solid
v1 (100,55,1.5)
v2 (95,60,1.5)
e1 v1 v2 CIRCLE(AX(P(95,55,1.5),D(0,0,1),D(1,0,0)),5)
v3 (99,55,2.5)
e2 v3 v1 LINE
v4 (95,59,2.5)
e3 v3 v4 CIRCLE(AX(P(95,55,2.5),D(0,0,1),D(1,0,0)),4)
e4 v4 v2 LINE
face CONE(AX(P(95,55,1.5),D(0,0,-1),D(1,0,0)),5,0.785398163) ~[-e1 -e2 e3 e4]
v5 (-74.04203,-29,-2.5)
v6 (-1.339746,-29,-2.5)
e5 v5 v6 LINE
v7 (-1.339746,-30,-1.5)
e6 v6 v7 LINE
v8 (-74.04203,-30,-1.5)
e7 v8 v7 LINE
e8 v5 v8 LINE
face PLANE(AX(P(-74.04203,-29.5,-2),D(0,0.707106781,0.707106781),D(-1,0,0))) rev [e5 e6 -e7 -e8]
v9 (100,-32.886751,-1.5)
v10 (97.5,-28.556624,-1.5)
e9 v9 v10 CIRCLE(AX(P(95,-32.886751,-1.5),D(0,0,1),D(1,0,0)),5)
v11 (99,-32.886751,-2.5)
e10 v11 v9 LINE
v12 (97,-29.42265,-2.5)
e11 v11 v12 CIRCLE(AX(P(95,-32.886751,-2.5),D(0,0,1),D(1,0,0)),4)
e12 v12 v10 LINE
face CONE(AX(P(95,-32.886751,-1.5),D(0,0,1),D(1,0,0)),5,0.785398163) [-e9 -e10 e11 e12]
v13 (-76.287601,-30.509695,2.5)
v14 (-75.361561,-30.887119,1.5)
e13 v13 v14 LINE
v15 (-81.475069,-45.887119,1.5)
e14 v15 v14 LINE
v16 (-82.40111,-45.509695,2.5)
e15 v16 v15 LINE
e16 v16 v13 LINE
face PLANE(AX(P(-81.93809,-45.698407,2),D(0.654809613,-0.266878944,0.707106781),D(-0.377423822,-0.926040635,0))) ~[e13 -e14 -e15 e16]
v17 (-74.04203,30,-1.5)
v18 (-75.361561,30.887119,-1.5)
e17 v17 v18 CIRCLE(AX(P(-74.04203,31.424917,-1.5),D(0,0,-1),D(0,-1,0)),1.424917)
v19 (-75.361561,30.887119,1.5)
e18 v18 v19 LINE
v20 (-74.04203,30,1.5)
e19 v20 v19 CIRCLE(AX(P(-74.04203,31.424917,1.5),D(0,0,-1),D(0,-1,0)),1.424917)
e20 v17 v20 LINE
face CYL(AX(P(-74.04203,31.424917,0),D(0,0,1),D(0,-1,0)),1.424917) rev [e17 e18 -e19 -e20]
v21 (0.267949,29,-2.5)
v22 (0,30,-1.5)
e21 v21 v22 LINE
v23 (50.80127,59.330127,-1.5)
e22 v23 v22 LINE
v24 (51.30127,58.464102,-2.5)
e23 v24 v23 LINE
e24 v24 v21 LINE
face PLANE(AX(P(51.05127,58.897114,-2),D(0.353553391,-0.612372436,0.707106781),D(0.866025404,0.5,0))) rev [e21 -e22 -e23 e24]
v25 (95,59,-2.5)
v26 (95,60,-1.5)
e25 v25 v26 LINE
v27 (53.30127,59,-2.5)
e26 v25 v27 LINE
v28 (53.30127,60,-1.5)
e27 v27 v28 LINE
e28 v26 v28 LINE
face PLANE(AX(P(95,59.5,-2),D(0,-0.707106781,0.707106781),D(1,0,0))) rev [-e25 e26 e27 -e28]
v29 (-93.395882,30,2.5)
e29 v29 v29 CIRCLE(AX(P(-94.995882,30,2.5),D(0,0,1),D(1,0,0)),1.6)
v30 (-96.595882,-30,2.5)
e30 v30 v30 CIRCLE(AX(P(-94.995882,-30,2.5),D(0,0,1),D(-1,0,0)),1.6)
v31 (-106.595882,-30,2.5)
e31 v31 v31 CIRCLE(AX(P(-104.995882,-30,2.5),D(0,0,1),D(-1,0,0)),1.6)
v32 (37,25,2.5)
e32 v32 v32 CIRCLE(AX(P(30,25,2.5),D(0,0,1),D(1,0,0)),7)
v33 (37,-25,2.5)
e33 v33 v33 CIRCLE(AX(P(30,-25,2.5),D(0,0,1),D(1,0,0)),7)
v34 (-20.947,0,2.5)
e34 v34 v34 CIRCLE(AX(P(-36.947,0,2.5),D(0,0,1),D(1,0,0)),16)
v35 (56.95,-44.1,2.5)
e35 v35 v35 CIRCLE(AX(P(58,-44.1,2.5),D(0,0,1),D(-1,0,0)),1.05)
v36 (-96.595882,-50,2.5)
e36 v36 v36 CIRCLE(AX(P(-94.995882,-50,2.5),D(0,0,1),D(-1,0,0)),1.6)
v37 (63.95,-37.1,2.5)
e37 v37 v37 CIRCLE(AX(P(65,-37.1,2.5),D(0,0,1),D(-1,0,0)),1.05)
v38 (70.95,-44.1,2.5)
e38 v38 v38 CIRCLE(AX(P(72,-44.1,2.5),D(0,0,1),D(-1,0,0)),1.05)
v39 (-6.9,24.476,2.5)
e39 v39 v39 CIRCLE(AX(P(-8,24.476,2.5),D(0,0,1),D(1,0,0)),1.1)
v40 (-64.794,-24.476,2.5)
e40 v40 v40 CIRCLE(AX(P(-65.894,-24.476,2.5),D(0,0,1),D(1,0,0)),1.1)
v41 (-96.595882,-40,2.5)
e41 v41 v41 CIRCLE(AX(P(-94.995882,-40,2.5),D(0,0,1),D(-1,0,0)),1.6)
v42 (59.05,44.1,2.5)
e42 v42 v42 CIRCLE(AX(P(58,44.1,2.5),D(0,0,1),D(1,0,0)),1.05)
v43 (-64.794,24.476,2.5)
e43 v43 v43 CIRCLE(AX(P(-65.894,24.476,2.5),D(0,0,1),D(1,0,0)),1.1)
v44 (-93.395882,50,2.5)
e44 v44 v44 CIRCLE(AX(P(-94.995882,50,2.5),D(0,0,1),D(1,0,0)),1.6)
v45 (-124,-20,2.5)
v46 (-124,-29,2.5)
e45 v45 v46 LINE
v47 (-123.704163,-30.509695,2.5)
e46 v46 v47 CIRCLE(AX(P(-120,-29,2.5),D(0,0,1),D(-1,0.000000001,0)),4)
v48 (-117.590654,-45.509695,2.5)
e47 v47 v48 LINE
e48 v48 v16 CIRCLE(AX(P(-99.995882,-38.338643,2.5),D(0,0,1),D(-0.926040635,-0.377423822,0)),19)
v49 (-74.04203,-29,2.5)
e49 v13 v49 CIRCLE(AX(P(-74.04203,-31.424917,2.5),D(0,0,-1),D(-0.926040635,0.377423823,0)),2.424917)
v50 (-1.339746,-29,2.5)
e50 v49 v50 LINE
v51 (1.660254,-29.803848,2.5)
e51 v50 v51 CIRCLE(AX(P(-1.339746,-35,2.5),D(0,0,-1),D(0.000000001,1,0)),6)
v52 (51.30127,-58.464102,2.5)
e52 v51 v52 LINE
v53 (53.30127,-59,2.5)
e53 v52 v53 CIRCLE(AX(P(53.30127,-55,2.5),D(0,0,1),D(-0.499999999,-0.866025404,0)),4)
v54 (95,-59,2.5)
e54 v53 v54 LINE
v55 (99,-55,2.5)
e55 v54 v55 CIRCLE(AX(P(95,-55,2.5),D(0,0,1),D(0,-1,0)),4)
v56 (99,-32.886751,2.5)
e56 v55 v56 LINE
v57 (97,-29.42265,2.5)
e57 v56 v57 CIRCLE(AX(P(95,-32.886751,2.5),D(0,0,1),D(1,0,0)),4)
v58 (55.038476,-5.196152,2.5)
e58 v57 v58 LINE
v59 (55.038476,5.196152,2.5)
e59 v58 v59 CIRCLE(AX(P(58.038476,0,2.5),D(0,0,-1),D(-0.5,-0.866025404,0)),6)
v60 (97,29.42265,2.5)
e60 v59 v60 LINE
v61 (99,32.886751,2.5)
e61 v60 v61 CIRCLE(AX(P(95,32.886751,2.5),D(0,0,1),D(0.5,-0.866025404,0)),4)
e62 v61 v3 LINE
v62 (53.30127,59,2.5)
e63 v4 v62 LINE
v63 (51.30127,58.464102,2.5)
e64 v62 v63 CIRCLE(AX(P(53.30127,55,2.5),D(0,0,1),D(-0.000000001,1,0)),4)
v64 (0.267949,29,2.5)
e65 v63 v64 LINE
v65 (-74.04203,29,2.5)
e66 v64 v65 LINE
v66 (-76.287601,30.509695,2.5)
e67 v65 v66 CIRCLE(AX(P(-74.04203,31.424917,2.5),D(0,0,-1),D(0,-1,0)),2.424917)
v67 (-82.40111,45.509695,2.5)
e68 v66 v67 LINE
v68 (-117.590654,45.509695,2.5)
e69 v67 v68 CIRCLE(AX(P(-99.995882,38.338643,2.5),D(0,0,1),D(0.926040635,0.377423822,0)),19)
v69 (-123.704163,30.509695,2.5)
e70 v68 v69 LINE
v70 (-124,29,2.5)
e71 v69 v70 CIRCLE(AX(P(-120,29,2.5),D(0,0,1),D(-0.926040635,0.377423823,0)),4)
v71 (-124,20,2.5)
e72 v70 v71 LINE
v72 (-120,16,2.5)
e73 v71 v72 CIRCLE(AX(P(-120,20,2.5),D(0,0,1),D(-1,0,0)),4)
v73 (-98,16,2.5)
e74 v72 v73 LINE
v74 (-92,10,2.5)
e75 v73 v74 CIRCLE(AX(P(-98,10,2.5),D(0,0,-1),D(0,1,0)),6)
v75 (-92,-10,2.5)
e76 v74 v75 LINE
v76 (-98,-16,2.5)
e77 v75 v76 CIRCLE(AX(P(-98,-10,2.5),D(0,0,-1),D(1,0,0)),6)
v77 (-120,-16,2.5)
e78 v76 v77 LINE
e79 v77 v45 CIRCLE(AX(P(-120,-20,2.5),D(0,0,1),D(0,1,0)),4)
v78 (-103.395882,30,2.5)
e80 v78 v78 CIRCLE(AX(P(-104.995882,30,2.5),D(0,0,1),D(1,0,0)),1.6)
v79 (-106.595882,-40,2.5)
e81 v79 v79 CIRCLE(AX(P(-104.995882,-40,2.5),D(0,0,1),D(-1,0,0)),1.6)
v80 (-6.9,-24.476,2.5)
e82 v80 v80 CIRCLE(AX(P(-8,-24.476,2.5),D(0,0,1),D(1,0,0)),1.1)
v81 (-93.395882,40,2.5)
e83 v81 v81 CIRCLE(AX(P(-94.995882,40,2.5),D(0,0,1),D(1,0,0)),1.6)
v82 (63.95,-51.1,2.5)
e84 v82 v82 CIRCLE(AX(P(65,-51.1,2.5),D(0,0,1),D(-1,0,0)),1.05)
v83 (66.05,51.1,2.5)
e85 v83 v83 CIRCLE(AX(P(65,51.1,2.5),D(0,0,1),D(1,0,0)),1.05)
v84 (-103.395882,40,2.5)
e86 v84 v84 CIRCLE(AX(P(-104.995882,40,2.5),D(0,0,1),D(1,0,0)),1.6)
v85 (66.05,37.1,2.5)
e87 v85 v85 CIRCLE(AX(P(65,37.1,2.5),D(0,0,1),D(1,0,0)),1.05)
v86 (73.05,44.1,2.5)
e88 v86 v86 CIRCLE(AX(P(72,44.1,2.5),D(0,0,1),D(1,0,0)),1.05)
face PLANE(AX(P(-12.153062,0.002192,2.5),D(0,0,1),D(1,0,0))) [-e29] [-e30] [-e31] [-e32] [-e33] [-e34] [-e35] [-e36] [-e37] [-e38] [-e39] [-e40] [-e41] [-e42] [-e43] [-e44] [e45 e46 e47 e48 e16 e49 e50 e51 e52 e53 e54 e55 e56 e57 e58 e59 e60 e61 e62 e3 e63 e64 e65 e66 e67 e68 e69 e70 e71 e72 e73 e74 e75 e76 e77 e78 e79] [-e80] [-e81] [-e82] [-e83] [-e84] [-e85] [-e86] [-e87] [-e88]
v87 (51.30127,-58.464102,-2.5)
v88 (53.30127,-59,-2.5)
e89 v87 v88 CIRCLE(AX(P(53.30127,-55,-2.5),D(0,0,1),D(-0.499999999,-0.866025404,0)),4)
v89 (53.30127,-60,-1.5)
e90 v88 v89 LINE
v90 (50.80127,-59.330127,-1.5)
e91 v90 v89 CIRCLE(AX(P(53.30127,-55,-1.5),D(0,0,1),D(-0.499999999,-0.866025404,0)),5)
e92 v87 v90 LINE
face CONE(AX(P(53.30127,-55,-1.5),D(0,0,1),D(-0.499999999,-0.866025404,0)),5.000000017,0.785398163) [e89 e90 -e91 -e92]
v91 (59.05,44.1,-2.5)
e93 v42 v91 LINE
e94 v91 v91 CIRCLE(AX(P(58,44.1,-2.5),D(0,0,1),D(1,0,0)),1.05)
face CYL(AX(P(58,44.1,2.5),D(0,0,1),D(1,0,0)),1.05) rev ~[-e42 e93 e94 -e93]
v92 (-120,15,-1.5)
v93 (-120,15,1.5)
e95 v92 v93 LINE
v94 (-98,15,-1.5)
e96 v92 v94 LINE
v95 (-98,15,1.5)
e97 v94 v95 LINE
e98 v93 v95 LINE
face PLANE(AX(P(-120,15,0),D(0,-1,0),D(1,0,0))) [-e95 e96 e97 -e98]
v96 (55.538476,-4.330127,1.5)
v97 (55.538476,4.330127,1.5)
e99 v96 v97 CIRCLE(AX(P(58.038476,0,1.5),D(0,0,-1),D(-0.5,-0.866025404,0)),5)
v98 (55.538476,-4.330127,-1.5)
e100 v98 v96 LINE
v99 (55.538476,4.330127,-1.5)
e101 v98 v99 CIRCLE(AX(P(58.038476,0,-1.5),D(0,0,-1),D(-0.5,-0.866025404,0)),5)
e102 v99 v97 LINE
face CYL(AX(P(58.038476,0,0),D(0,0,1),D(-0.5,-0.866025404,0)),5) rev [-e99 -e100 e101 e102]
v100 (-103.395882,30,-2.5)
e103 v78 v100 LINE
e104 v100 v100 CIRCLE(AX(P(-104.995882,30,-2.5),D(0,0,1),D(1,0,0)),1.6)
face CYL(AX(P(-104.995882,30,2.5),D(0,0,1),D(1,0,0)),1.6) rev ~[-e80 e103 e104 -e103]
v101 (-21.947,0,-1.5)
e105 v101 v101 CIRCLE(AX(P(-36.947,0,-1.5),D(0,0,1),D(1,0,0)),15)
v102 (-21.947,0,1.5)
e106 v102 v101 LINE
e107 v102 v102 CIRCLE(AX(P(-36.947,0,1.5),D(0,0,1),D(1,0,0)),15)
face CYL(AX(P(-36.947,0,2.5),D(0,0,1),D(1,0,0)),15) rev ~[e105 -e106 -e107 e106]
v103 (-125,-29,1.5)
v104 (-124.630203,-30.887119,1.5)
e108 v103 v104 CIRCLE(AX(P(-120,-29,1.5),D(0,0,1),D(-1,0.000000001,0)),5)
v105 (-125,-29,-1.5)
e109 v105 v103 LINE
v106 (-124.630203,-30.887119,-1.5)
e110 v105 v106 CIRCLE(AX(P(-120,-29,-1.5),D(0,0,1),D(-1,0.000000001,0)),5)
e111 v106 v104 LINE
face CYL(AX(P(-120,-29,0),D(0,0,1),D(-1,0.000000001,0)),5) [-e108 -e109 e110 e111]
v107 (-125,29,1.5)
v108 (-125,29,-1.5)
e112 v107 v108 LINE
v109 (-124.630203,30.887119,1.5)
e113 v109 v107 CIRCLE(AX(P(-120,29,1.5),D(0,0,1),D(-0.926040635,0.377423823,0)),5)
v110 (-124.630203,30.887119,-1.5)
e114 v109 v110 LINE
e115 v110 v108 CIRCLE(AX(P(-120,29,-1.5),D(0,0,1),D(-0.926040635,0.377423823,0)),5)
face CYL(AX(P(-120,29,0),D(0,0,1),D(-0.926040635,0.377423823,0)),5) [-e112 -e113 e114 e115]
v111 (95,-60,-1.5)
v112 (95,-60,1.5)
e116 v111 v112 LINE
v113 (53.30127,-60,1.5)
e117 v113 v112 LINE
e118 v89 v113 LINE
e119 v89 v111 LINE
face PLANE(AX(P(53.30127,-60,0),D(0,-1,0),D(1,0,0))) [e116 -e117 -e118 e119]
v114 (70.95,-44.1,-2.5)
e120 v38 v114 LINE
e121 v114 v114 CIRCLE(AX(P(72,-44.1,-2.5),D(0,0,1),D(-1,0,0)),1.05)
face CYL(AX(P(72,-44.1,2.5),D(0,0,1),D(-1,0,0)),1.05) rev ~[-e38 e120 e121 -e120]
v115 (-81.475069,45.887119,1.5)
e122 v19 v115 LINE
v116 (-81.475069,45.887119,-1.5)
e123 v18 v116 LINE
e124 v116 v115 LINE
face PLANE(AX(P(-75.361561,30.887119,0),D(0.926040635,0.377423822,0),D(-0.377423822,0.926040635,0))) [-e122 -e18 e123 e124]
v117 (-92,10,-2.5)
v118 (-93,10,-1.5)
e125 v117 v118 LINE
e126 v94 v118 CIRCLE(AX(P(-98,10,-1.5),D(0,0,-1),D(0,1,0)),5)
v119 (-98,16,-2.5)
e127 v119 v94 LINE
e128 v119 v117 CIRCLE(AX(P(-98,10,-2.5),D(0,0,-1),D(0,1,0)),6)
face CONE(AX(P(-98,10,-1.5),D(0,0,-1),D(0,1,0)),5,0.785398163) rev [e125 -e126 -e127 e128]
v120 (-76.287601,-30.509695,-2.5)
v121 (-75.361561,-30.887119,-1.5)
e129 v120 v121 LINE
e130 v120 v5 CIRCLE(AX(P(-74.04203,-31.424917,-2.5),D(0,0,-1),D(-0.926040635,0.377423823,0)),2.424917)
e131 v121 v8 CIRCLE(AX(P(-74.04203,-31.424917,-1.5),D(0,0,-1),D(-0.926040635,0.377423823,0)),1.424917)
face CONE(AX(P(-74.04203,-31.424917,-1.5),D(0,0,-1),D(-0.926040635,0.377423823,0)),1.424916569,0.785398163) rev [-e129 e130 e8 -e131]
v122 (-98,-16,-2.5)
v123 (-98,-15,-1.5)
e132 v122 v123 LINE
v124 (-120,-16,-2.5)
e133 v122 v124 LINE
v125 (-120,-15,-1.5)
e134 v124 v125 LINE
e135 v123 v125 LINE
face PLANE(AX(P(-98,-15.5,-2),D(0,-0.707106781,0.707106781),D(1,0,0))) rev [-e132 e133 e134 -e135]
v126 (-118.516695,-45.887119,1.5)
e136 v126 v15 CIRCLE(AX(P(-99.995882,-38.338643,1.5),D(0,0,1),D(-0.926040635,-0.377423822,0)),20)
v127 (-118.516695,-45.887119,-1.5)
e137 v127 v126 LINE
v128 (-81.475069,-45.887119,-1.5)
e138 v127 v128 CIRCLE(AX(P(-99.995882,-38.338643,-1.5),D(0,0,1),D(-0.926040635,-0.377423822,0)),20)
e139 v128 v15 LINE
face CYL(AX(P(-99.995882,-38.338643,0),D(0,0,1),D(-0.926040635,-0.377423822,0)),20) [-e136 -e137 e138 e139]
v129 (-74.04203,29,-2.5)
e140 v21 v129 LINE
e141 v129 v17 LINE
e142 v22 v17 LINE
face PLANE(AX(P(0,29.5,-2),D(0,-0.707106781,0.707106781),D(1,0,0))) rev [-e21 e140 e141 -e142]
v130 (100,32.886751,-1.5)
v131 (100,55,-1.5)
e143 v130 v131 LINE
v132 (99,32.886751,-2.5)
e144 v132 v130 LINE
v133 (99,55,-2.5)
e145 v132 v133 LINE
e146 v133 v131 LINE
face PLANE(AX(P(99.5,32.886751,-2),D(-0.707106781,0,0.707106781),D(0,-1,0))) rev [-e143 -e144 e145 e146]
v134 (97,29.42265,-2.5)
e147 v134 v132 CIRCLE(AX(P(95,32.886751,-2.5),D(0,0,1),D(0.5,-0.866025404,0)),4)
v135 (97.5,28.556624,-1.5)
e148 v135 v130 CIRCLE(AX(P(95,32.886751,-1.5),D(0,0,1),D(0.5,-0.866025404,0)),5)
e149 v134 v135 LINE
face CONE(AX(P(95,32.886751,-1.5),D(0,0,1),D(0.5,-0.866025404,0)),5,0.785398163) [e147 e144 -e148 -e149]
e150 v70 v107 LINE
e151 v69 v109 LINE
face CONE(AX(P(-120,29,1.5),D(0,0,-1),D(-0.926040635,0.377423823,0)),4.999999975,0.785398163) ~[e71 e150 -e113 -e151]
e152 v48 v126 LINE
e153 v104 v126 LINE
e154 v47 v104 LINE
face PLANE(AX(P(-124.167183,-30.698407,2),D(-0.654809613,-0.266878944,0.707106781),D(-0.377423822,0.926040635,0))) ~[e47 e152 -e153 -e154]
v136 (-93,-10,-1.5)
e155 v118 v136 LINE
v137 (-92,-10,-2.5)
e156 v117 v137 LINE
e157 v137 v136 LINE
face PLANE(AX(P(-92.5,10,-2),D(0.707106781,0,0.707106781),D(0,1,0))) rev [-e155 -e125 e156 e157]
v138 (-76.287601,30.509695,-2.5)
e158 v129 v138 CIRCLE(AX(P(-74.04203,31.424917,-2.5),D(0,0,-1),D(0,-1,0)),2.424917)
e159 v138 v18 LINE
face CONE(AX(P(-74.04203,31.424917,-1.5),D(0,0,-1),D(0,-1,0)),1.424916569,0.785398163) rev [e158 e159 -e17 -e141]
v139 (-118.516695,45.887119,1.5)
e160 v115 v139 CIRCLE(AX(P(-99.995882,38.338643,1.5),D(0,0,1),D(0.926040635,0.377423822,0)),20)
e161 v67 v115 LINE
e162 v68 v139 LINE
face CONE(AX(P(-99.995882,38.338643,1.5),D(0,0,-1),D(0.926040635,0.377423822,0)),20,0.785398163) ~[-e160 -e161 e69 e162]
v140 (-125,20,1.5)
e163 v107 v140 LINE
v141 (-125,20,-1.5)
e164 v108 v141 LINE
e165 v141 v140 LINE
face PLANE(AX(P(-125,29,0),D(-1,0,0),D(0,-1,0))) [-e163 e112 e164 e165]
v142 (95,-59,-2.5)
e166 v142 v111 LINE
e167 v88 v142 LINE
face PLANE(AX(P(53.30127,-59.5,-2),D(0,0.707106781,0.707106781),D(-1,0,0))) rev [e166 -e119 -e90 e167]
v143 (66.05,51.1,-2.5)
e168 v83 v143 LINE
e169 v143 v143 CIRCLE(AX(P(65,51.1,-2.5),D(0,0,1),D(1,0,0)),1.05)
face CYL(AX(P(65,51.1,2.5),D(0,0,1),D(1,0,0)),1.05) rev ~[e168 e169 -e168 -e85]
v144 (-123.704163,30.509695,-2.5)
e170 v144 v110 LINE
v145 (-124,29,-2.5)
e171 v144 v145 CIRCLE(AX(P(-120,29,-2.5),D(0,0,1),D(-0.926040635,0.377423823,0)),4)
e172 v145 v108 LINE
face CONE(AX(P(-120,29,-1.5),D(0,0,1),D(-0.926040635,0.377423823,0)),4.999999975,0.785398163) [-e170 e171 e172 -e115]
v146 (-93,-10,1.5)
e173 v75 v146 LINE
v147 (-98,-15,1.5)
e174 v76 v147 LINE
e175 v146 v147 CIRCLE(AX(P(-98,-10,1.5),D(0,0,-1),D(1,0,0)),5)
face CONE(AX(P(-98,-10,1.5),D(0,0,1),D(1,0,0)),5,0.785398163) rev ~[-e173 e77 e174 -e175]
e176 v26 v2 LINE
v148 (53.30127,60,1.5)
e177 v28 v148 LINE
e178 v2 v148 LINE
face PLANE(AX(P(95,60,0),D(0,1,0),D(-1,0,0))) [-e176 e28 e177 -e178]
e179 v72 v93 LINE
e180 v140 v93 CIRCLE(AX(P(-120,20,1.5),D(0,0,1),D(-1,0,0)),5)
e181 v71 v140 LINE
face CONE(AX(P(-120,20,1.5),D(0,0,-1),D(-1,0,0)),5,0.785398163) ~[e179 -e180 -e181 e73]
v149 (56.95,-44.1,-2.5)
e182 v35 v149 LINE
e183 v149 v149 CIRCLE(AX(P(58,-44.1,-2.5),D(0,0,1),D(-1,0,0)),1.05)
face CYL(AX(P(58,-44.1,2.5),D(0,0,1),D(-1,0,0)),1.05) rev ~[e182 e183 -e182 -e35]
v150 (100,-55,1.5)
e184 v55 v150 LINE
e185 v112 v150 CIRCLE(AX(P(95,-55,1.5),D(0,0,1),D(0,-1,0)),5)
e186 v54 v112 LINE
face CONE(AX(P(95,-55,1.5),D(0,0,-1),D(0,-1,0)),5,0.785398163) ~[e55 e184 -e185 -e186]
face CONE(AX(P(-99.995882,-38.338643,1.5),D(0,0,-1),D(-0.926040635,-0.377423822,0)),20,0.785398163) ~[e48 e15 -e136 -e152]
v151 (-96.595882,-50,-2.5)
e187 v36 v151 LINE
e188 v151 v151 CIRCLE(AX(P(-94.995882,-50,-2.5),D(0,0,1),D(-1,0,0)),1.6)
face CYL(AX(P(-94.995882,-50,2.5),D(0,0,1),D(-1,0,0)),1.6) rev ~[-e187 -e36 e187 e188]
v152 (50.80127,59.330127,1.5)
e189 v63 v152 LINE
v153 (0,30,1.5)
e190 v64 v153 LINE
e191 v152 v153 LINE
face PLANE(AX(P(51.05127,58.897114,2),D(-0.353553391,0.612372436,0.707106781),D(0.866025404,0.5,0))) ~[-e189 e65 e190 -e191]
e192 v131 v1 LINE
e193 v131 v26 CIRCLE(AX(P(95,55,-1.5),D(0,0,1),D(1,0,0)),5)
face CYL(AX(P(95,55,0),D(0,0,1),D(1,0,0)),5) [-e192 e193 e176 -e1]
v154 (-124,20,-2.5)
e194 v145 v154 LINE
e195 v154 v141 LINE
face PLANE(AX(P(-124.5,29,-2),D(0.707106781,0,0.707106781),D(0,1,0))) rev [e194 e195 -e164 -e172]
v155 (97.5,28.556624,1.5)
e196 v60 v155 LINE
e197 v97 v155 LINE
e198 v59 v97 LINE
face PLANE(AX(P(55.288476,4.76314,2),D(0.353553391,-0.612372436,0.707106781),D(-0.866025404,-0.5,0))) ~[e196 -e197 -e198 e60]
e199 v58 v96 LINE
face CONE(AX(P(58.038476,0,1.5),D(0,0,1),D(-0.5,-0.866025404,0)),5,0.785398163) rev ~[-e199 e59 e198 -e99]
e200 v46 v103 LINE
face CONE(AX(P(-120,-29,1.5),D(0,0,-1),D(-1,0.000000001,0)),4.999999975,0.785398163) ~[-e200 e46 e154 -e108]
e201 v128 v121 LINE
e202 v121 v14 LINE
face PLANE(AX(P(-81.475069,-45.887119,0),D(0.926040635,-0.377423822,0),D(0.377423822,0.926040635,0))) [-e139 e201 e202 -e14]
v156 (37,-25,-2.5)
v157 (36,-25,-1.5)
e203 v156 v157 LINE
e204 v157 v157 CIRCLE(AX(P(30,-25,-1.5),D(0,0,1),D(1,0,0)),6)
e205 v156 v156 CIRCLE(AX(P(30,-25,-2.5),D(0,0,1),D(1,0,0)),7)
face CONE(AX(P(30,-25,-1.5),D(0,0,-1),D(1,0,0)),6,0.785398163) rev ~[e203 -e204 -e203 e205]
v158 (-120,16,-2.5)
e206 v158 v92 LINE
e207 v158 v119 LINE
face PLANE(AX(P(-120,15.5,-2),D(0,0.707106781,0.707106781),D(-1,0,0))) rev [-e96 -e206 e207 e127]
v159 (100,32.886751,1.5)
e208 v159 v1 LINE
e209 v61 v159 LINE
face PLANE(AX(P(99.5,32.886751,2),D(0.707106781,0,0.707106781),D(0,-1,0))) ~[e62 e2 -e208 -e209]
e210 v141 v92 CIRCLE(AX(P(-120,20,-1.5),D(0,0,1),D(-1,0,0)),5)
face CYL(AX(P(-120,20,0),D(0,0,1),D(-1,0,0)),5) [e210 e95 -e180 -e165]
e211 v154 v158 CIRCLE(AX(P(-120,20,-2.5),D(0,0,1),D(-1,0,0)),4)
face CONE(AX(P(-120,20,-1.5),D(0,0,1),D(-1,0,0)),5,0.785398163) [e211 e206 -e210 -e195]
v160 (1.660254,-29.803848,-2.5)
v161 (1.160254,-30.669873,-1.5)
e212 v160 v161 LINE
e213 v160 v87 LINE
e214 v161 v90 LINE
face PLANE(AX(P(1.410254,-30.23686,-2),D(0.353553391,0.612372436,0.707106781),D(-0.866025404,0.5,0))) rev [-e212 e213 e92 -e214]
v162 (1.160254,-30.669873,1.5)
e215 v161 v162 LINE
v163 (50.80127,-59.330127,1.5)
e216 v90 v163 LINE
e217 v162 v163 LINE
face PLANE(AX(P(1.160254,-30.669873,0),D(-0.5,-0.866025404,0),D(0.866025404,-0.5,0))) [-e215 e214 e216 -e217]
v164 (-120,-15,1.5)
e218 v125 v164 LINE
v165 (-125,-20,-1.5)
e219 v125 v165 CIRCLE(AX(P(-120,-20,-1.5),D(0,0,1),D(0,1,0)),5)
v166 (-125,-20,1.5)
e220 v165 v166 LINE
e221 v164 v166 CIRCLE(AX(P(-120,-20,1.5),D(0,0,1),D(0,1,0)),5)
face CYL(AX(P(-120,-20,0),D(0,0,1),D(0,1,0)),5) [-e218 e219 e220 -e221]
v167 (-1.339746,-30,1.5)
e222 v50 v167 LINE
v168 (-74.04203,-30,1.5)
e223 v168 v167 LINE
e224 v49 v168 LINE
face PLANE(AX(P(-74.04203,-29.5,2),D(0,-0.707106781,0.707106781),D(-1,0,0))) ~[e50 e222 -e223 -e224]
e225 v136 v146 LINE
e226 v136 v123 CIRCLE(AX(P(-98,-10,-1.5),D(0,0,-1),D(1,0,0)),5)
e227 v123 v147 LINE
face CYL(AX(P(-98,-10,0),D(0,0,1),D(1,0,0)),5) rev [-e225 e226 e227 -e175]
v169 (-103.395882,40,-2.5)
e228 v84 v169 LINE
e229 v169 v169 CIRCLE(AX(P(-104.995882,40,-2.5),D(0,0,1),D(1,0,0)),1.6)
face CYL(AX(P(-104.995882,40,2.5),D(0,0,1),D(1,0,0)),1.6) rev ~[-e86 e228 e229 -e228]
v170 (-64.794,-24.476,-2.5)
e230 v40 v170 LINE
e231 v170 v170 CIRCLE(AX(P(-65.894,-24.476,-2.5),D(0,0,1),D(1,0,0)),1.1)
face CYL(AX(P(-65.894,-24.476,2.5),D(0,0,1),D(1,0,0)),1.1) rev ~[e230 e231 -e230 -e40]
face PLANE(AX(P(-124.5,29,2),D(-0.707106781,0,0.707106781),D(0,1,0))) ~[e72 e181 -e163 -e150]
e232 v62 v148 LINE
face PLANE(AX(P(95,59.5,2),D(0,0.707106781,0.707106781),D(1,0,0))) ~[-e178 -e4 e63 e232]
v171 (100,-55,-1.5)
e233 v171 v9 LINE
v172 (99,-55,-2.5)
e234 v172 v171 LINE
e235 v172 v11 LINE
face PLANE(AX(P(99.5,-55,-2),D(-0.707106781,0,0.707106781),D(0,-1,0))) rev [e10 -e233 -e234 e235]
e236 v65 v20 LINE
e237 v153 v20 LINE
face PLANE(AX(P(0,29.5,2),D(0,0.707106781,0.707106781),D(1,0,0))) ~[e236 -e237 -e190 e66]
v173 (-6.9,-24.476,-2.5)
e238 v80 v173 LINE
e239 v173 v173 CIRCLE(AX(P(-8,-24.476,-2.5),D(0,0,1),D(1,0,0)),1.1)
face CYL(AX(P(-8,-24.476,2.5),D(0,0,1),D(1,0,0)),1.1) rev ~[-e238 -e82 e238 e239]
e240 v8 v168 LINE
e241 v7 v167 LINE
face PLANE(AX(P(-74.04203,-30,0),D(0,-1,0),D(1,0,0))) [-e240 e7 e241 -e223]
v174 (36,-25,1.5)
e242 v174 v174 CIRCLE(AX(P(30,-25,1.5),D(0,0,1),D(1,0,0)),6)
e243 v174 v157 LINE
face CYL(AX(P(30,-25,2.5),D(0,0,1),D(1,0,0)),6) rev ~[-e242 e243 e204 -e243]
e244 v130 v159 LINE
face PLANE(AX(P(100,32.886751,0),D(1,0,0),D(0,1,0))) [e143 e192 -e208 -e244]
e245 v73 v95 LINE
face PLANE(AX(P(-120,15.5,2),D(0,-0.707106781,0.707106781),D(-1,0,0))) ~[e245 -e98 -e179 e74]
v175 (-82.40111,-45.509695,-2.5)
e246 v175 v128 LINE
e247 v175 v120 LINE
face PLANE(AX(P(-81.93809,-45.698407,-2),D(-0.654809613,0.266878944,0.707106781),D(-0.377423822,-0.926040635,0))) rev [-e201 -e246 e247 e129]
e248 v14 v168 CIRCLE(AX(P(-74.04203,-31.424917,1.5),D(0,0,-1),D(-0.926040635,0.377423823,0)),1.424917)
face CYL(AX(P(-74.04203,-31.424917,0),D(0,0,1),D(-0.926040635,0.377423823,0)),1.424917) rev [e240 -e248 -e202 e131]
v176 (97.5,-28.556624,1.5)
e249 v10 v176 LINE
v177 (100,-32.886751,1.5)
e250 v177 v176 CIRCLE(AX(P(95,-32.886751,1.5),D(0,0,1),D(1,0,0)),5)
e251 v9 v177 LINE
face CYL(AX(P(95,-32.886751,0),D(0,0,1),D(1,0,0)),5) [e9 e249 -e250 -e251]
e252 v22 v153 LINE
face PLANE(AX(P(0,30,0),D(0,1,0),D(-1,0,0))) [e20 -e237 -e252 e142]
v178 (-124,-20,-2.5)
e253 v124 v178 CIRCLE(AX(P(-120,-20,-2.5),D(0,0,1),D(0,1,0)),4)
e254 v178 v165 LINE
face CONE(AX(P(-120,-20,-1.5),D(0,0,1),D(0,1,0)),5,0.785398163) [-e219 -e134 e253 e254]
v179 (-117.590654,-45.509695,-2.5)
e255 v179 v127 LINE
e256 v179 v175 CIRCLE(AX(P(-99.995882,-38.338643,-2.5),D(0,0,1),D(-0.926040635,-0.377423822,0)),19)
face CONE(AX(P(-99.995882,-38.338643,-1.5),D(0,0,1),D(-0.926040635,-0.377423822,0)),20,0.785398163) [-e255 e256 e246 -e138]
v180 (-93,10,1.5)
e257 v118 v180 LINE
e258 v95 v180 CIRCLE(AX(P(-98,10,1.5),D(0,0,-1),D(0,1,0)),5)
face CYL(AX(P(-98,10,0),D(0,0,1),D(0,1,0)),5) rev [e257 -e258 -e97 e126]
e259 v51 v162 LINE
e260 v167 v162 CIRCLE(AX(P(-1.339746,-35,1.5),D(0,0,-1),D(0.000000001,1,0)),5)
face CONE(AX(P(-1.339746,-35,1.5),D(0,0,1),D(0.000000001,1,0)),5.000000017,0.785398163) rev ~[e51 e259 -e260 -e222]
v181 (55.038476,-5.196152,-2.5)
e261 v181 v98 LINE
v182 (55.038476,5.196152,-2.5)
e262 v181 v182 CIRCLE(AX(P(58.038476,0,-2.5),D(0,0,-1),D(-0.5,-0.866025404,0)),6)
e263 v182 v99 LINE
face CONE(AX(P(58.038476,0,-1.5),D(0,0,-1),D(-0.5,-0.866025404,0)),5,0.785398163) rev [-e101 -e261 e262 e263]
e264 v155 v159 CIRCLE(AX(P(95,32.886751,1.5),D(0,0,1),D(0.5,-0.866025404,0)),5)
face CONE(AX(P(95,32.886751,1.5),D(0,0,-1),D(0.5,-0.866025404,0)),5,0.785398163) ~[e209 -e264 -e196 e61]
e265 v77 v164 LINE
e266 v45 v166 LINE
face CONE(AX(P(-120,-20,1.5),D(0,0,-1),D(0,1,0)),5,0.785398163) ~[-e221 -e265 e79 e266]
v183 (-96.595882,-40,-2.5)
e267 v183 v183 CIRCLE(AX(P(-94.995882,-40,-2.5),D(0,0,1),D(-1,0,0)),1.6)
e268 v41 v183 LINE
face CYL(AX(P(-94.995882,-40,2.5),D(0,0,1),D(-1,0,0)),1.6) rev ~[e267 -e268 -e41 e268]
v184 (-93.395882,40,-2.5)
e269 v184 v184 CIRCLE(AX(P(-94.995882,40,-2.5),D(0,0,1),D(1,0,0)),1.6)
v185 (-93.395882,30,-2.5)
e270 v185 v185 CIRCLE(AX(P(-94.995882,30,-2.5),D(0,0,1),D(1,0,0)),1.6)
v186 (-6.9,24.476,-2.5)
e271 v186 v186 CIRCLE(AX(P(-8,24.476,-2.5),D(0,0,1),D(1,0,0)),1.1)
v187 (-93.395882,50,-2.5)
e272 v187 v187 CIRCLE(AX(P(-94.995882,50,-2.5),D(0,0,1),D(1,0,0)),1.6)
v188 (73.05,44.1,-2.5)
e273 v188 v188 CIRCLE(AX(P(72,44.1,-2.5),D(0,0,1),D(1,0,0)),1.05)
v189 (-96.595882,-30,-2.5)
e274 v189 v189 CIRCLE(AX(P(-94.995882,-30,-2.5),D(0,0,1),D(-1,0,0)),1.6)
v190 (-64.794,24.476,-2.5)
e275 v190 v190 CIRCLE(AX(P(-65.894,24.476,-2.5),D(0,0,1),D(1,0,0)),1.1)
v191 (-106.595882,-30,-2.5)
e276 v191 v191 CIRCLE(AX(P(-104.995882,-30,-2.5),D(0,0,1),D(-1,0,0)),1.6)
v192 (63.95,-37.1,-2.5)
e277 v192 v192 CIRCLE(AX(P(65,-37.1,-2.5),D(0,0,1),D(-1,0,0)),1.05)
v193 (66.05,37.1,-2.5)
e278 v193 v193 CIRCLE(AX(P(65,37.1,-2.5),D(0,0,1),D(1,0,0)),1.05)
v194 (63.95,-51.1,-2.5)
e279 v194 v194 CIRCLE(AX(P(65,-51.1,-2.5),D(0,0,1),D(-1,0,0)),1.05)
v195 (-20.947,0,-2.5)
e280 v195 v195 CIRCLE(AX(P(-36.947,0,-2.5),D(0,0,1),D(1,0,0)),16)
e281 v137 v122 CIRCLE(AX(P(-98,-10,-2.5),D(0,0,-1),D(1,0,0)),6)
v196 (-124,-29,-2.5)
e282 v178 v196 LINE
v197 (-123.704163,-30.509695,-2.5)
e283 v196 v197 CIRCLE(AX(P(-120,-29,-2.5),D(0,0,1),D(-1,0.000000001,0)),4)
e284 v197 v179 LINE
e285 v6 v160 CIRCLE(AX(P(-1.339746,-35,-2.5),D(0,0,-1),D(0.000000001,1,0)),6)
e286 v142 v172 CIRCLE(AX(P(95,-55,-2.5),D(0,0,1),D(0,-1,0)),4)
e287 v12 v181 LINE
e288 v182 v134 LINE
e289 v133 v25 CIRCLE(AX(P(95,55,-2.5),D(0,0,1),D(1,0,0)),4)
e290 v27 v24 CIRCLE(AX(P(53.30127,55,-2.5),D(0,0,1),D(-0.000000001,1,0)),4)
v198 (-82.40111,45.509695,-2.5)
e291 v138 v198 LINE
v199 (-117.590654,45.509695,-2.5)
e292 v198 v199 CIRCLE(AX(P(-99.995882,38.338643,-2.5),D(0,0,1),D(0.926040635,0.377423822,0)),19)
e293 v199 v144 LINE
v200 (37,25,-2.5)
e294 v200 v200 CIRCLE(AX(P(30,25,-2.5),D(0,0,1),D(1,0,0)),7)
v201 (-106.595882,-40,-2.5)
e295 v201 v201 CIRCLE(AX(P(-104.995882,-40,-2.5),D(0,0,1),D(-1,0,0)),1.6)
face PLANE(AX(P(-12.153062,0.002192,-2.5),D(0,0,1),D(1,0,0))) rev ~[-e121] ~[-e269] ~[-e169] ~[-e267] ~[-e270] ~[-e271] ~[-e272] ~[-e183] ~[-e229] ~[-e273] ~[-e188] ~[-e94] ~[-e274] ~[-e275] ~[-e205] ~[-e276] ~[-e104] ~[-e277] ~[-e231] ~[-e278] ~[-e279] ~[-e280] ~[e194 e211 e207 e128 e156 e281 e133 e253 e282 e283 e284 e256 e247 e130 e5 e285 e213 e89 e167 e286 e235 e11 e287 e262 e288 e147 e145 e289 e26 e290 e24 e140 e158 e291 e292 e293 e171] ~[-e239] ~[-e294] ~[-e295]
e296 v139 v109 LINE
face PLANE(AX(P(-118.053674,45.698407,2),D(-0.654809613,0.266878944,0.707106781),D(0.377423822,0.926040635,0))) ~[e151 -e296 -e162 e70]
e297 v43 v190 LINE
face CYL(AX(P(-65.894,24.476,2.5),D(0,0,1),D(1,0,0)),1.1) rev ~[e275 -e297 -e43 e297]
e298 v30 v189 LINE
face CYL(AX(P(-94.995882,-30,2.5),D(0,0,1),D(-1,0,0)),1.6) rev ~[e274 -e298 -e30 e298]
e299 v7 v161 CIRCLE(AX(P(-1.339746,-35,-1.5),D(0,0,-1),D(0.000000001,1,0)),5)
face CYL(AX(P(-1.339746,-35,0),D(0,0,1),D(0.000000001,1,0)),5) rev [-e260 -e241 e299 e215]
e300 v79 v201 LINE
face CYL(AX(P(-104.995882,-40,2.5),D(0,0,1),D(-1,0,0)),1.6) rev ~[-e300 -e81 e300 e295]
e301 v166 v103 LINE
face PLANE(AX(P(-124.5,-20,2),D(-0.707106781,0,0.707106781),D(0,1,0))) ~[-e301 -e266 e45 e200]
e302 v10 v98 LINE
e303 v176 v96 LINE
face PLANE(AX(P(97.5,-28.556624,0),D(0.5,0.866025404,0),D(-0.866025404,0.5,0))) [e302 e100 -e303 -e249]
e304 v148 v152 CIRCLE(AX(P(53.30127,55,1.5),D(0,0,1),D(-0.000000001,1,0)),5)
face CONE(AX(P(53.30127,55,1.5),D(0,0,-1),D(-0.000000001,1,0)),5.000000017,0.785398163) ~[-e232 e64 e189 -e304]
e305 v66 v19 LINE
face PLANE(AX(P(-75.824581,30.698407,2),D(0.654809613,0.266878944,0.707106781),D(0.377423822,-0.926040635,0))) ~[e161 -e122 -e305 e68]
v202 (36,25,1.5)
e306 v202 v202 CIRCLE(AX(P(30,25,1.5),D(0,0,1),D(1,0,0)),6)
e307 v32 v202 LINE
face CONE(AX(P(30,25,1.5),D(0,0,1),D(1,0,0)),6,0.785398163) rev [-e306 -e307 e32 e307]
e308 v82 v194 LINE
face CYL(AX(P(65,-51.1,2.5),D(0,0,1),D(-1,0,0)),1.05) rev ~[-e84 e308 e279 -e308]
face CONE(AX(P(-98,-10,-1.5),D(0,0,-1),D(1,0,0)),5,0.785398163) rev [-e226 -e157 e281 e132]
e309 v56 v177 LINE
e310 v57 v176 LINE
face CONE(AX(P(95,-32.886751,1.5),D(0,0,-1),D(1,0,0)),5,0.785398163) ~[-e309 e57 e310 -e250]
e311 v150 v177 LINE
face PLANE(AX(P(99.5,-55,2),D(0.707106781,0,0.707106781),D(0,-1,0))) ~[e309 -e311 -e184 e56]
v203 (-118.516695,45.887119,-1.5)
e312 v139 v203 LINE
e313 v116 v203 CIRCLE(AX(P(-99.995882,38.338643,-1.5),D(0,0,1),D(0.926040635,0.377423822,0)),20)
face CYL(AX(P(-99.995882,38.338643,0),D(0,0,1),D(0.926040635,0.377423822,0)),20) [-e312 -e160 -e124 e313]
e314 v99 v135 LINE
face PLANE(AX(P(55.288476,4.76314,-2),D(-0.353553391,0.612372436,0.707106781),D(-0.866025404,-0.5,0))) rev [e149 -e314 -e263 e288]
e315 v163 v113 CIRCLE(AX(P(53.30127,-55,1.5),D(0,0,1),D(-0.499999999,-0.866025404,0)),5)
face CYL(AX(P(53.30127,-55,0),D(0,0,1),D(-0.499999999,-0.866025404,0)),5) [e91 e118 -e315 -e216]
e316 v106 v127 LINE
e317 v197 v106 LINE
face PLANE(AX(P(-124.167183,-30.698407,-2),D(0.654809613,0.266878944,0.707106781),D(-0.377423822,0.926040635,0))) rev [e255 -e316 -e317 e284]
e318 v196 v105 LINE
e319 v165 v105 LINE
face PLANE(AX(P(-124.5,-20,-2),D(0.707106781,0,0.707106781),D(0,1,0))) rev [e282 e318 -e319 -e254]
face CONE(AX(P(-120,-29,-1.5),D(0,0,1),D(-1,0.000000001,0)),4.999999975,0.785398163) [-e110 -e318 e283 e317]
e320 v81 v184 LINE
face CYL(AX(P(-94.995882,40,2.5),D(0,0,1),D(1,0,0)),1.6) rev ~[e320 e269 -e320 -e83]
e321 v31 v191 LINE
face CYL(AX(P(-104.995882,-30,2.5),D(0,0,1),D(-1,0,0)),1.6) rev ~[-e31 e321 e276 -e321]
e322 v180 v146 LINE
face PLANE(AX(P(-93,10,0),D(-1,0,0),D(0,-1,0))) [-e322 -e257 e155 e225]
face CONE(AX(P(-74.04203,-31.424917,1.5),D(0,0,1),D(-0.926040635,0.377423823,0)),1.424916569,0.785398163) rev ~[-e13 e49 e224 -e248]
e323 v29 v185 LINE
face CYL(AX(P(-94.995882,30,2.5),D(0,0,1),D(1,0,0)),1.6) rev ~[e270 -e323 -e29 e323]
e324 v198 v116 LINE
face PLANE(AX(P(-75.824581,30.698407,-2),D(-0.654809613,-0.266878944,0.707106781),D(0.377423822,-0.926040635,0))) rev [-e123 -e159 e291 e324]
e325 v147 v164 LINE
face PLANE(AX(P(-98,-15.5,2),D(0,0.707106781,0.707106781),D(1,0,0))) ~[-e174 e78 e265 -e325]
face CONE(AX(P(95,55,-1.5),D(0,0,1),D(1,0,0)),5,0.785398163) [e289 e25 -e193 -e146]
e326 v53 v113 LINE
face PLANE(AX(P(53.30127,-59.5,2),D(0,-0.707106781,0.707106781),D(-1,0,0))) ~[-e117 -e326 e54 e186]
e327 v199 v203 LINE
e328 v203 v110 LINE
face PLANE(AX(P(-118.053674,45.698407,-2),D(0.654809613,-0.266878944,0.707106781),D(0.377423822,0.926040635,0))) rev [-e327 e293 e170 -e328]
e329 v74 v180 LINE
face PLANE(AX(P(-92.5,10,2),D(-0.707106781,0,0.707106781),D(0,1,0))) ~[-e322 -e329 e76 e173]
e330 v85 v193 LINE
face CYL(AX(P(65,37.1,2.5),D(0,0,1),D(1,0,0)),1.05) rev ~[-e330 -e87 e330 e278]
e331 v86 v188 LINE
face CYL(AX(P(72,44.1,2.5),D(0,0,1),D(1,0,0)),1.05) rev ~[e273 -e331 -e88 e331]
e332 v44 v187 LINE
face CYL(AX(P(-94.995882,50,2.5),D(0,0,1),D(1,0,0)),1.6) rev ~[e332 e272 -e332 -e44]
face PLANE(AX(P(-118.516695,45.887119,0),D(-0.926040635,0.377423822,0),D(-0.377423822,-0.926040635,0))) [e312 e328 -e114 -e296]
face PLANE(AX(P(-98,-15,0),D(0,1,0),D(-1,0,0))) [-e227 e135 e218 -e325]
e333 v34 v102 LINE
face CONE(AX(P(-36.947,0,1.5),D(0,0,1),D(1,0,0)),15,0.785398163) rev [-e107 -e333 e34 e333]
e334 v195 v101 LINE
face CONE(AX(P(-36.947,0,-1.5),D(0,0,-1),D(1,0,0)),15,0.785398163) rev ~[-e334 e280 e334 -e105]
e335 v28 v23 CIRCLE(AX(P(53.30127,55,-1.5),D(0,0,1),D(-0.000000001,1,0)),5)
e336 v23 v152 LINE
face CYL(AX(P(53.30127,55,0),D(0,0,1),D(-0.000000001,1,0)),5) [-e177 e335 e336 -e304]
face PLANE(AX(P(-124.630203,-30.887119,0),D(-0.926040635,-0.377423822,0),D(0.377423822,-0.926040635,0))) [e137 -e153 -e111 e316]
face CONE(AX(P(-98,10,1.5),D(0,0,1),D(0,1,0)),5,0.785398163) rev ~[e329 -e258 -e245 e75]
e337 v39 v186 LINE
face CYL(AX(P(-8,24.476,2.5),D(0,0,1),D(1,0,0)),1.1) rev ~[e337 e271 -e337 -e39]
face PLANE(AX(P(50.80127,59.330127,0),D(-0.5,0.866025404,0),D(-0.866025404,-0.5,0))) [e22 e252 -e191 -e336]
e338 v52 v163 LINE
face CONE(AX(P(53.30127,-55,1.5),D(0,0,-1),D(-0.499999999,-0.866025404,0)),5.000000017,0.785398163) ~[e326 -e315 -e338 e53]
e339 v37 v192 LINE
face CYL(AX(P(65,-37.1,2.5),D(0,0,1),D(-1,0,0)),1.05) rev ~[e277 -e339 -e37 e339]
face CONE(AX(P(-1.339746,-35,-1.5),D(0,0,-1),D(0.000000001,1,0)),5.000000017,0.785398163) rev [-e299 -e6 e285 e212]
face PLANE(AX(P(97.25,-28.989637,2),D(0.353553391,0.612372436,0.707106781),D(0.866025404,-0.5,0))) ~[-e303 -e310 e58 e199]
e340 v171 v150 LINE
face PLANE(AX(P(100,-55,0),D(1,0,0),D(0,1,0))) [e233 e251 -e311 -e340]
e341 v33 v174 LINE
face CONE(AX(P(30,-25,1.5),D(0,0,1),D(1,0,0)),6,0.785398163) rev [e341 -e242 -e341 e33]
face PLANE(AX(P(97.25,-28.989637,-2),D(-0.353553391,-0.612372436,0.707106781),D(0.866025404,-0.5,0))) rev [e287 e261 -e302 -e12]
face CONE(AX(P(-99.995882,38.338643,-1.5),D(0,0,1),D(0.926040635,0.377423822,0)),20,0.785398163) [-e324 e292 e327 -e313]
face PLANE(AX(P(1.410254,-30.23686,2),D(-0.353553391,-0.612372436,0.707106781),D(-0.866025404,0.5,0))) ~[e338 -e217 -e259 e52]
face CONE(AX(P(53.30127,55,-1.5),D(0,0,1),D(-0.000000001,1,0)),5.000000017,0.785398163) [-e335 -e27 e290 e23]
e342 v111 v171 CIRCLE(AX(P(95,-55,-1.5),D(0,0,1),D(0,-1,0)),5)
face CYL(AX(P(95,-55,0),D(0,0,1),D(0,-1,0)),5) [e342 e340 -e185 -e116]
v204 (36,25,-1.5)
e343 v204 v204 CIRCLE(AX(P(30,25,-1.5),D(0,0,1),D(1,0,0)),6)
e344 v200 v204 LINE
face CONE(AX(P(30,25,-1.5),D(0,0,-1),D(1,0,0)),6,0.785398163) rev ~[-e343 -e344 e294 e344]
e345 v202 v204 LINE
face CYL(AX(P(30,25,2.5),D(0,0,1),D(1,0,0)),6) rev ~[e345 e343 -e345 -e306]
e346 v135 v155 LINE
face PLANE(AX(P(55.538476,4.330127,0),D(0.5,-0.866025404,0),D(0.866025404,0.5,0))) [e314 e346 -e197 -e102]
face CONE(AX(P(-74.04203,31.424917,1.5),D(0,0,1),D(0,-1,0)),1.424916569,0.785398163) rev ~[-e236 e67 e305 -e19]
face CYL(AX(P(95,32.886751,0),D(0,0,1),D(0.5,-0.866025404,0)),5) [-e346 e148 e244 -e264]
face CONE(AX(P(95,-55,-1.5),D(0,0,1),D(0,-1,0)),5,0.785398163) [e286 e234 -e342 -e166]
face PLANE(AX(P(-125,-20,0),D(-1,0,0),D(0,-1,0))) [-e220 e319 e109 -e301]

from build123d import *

# Parameters (mm, degrees)
EXTRUDE_1_DEPTH     = 2.5
SKETCH_2_R          = 1.6
CUT_EXTRUDE_1_DEPTH = 139.744369255
SKETCH_3_R          = 1.05
CUT_EXTRUDE_2_DEPTH = 139.744369255
SKETCH_4_R          = 1.1
SKETCH_4_R_2        = 15
SKETCH_4_R_3        = 6
CUT_EXTRUDE_3_DEPTH = 139.744369255
CHAMFER_1_SIZE      = 1
CHAMFER_2_SIZE      = 1


with BuildPart() as part:
    # 草图1 → 凸台-拉伸1 (new, symmetric)
    with BuildSketch(Plane.XY):
        with BuildLine():
            Line((-125, 29), (-125, 20))
            ThreePointArc((-125, 20), (-123.535533906, 16.464466094), (-120, 15))
            Line((-120, 15), (-98, 15))
            ThreePointArc((-98, 15), (-94.464466094, 13.535533906), (-93, 10))
            Line((-93, 10), (-93, -10))
            ThreePointArc((-93, -10), (-94.464466094, -13.535533906), (-98, -15))
            Line((-98, -15), (-120, -15))
            ThreePointArc((-120, -15), (-123.535533906, -16.464466094), (-125, -20))
            Line((-125, -20), (-125, -29))
            ThreePointArc((-125, -29), (-124.906679931, -29.9615051), (-124.630203177, -30.88711911))
            Line((-124.630203177, -30.88711911), (-118.51669464, -45.88711911))
            ThreePointArc((-118.51669464, -45.88711911), (-99.99588193, -58.338642669), (-81.475069221, -45.88711911))
            Line((-81.475069221, -45.88711911), (-75.361560684, -30.88711911))
            ThreePointArc((-75.361560684, -30.88711911), (-74.837036555, -30.24239728), (-74.04203004, -30))
            Line((-74.04203004, -30), (-1.339745962, -30))
            ThreePointArc((-1.339745962, -30), (-0.045650737, -30.170370869), (1.160254038, -30.669872981))
            Line((1.160254038, -30.669872981), (50.801270189, -59.330127019))
            ThreePointArc((50.801270189, -59.330127019), (52.007174964, -59.829629131), (53.301270189, -60))
            Line((53.301270189, -60), (95, -60))
            ThreePointArc((95, -60), (98.535533906, -58.535533906), (100, -55))
            Line((100, -55), (100, -32.886751346))
            ThreePointArc((100, -32.886751346), (99.330127019, -30.386751346), (97.5, -28.556624327))
            Line((97.5, -28.556624327), (55.538475773, -4.330127019))
            ThreePointArc((55.538475773, -4.330127019), (53.038475773, 0), (55.538475773, 4.330127019))
            Line((55.538475773, 4.330127019), (97.5, 28.556624327))
            ThreePointArc((97.5, 28.556624327), (99.330127019, 30.386751346), (100, 32.886751346))
            Line((100, 32.886751346), (100, 55))
            ThreePointArc((100, 55), (98.535533906, 58.535533906), (95, 60))
            Line((95, 60), (53.301270189, 60))
            ThreePointArc((53.301270189, 60), (52.007174964, 59.829629131), (50.801270189, 59.330127019))
            Line((50.801270189, 59.330127019), (0, 30))
            Line((0, 30), (-74.04203004, 30))
            ThreePointArc((-74.04203004, 30), (-74.837036555, 30.24239728), (-75.361560684, 30.88711911))
            Line((-75.361560684, 30.88711911), (-81.475069221, 45.88711911))
            ThreePointArc((-81.475069221, 45.88711911), (-99.99588193, 58.338642669), (-118.51669464, 45.88711911))
            Line((-118.51669464, 45.88711911), (-124.630203177, 30.88711911))
            ThreePointArc((-124.630203177, 30.88711911), (-124.906679931, 29.9615051), (-125, 29))
        make_face()
    extrude(amount=EXTRUDE_1_DEPTH, both=True)

    # 草图2 → 切除-拉伸1 (cut, through all)
    with BuildSketch(Plane.XY.offset(2.5)):
        with Locations((-104.99588193, 40)):
            Circle(SKETCH_2_R)
        with Locations((-94.99588193, 40)):
            Circle(SKETCH_2_R)
        with Locations(Location((-94.99588193, -40, 0), (0, 0, 180))):
            Circle(SKETCH_2_R)
        with Locations(Location((-104.99588193, -40, 0), (0, 0, 180))):
            Circle(SKETCH_2_R)
        with Locations((-104.99588193, 30)):
            Circle(SKETCH_2_R)
        with Locations((-94.99588193, 30)):
            Circle(SKETCH_2_R)
        with Locations(Location((-94.99588193, -30, 0), (0, 0, 180))):
            Circle(SKETCH_2_R)
        with Locations(Location((-104.99588193, -30, 0), (0, 0, 180))):
            Circle(SKETCH_2_R)
        with Locations((-94.99588193, 50)):
            Circle(SKETCH_2_R)
        with Locations(Location((-94.99588193, -50, 0), (0, 0, 180))):
            Circle(SKETCH_2_R)
    extrude(amount=-CUT_EXTRUDE_1_DEPTH, mode=Mode.SUBTRACT)

    # 草图3 → 切除-拉伸2 (cut, through all)
    with BuildSketch(Plane.XY.offset(2.5)):
        with Locations((65, 51.1)):
            Circle(SKETCH_3_R)
        with Locations((72, 44.1)):
            Circle(SKETCH_3_R)
        with Locations((58, 44.1)):
            Circle(SKETCH_3_R)
        with Locations((65, 37.1)):
            Circle(SKETCH_3_R)
        with Locations(Location((65, -37.1, 0), (0, 0, 180))):
            Circle(SKETCH_3_R)
        with Locations(Location((58, -44.1, 0), (0, 0, 180))):
            Circle(SKETCH_3_R)
        with Locations(Location((72, -44.1, 0), (0, 0, 180))):
            Circle(SKETCH_3_R)
        with Locations(Location((65, -51.1, 0), (0, 0, 180))):
            Circle(SKETCH_3_R)
    extrude(amount=-CUT_EXTRUDE_2_DEPTH, mode=Mode.SUBTRACT)

    # 草图4 → 切除-拉伸3 (cut, through all)
    with BuildSketch(Plane.XY.offset(2.5)):
        with Locations((-65.894, 24.476)):
            Circle(SKETCH_4_R)
        with Locations((-65.894, -24.476)):
            Circle(SKETCH_4_R)
        with Locations((-8, -24.476)):
            Circle(SKETCH_4_R)
        with Locations((-8, 24.476)):
            Circle(SKETCH_4_R)
        with Locations((-36.947, 0)):
            Circle(SKETCH_4_R_2)
        with Locations((30, 25)):
            Circle(SKETCH_4_R_3)
        with Locations((30, -25)):
            Circle(SKETCH_4_R_3)
    extrude(amount=-CUT_EXTRUDE_3_DEPTH, mode=Mode.SUBTRACT)

    # 倒角1
    chamfer_1_edges = [part.edges().sort_by_distance(p)[0] for p in [
        (53.038475773, 0, 2.5),
        (76.519237886, 16.443375673, 2.5),
        (99.330127019, 30.386751346, 2.5),
        (100, 43.943375673, 2.5),
        (98.535533906, 58.535533906, 2.5),
        (74.150635095, 60, 2.5),
        (52.007174964, 59.829629131, 2.5),
        (25.400635095, 44.665063509, 2.5),
        (-123.535533906, 16.464466094, 2.5),
        (-37.02101502, 30, 2.5),
        (-74.837036555, 30.24239728, 2.5),
        (-78.418314952, 38.38711911, 2.5),
        (-99.99588193, 58.338642669, 2.5),
        (-121.573448909, 38.38711911, 2.5),
        (-109, 15, 2.5),
        (-94.464466094, 13.535533906, 2.5),
        (-93, 0, 2.5),
        (-94.464466094, -13.535533906, 2.5),
        (-109, -15, 2.5),
        (-121.573448909, 38.38711911, -2.5),
        (-99.99588193, 58.338642669, -2.5),
        (-78.418314952, 38.38711911, -2.5),
        (-74.837036555, 30.24239728, -2.5),
        (-37.02101502, 30, -2.5),
        (25.400635095, 44.665063509, -2.5),
        (-123.535533906, -16.464466094, 2.5),
        (52.007174964, 59.829629131, -2.5),
        (74.150635095, 60, -2.5),
        (98.535533906, 58.535533906, -2.5),
        (100, 43.943375673, -2.5),
        (99.330127019, 30.386751346, -2.5),
        (76.519237886, 16.443375673, -2.5),
        (53.038475773, 0, -2.5),
        (76.519237886, -16.443375673, -2.5),
        (99.330127019, -30.386751346, -2.5),
        (100, -43.943375673, -2.5),
        (-125, -24.5, 2.5),
        (98.535533906, -58.535533906, -2.5),
        (74.150635095, -60, -2.5),
        (52.007174964, -59.829629131, -2.5),
        (25.980762114, -45, -2.5),
        (-0.045650737, -30.170370869, -2.5),
        (-37.690888001, -30, -2.5),
        (-74.837036555, -30.24239728, -2.5),
        (-78.418314952, -38.38711911, -2.5),
        (-99.99588193, -58.338642669, -2.5),
        (-121.573448909, -38.38711911, -2.5),
        (-124.906679931, -29.9615051, 2.5),
        (-124.906679931, -29.9615051, -2.5),
        (-125, -24.5, -2.5),
        (-123.535533906, -16.464466094, -2.5),
        (-109, -15, -2.5),
        (-94.464466094, -13.535533906, -2.5),
        (-93, 0, -2.5),
        (-94.464466094, 13.535533906, -2.5),
        (-109, 15, -2.5),
        (-123.535533906, 16.464466094, -2.5),
        (-125, 24.5, -2.5),
        (-121.573448909, -38.38711911, 2.5),
        (-124.906679931, 29.9615051, -2.5),
        (-124.906679931, 29.9615051, 2.5),
        (-99.99588193, -58.338642669, 2.5),
        (-78.418314952, -38.38711911, 2.5),
        (-74.837036555, -30.24239728, 2.5),
        (-37.690888001, -30, 2.5),
        (-0.045650737, -30.170370869, 2.5),
        (25.980762114, -45, 2.5),
        (52.007174964, -59.829629131, 2.5),
        (74.150635095, -60, 2.5),
        (98.535533906, -58.535533906, 2.5),
        (100, -43.943375673, 2.5),
        (-125, 24.5, 2.5),
        (99.330127019, -30.386751346, 2.5),
        (76.519237886, -16.443375673, 2.5),
    ]]
    chamfer(chamfer_1_edges, length=CHAMFER_1_SIZE)

    # 倒角2
    chamfer_2_edges = [part.edges().sort_by_distance(p)[0] for p in [
        (24, -25, -2.5),
        (24, -25, 2.5),
        (24, 25, -2.5),
        (24, 25, 2.5),
        (-51.947, 0, -2.5),
        (-51.947, 0, 2.5),
    ]]
    chamfer(chamfer_2_edges, length=CHAMFER_2_SIZE)


solid = part.part
